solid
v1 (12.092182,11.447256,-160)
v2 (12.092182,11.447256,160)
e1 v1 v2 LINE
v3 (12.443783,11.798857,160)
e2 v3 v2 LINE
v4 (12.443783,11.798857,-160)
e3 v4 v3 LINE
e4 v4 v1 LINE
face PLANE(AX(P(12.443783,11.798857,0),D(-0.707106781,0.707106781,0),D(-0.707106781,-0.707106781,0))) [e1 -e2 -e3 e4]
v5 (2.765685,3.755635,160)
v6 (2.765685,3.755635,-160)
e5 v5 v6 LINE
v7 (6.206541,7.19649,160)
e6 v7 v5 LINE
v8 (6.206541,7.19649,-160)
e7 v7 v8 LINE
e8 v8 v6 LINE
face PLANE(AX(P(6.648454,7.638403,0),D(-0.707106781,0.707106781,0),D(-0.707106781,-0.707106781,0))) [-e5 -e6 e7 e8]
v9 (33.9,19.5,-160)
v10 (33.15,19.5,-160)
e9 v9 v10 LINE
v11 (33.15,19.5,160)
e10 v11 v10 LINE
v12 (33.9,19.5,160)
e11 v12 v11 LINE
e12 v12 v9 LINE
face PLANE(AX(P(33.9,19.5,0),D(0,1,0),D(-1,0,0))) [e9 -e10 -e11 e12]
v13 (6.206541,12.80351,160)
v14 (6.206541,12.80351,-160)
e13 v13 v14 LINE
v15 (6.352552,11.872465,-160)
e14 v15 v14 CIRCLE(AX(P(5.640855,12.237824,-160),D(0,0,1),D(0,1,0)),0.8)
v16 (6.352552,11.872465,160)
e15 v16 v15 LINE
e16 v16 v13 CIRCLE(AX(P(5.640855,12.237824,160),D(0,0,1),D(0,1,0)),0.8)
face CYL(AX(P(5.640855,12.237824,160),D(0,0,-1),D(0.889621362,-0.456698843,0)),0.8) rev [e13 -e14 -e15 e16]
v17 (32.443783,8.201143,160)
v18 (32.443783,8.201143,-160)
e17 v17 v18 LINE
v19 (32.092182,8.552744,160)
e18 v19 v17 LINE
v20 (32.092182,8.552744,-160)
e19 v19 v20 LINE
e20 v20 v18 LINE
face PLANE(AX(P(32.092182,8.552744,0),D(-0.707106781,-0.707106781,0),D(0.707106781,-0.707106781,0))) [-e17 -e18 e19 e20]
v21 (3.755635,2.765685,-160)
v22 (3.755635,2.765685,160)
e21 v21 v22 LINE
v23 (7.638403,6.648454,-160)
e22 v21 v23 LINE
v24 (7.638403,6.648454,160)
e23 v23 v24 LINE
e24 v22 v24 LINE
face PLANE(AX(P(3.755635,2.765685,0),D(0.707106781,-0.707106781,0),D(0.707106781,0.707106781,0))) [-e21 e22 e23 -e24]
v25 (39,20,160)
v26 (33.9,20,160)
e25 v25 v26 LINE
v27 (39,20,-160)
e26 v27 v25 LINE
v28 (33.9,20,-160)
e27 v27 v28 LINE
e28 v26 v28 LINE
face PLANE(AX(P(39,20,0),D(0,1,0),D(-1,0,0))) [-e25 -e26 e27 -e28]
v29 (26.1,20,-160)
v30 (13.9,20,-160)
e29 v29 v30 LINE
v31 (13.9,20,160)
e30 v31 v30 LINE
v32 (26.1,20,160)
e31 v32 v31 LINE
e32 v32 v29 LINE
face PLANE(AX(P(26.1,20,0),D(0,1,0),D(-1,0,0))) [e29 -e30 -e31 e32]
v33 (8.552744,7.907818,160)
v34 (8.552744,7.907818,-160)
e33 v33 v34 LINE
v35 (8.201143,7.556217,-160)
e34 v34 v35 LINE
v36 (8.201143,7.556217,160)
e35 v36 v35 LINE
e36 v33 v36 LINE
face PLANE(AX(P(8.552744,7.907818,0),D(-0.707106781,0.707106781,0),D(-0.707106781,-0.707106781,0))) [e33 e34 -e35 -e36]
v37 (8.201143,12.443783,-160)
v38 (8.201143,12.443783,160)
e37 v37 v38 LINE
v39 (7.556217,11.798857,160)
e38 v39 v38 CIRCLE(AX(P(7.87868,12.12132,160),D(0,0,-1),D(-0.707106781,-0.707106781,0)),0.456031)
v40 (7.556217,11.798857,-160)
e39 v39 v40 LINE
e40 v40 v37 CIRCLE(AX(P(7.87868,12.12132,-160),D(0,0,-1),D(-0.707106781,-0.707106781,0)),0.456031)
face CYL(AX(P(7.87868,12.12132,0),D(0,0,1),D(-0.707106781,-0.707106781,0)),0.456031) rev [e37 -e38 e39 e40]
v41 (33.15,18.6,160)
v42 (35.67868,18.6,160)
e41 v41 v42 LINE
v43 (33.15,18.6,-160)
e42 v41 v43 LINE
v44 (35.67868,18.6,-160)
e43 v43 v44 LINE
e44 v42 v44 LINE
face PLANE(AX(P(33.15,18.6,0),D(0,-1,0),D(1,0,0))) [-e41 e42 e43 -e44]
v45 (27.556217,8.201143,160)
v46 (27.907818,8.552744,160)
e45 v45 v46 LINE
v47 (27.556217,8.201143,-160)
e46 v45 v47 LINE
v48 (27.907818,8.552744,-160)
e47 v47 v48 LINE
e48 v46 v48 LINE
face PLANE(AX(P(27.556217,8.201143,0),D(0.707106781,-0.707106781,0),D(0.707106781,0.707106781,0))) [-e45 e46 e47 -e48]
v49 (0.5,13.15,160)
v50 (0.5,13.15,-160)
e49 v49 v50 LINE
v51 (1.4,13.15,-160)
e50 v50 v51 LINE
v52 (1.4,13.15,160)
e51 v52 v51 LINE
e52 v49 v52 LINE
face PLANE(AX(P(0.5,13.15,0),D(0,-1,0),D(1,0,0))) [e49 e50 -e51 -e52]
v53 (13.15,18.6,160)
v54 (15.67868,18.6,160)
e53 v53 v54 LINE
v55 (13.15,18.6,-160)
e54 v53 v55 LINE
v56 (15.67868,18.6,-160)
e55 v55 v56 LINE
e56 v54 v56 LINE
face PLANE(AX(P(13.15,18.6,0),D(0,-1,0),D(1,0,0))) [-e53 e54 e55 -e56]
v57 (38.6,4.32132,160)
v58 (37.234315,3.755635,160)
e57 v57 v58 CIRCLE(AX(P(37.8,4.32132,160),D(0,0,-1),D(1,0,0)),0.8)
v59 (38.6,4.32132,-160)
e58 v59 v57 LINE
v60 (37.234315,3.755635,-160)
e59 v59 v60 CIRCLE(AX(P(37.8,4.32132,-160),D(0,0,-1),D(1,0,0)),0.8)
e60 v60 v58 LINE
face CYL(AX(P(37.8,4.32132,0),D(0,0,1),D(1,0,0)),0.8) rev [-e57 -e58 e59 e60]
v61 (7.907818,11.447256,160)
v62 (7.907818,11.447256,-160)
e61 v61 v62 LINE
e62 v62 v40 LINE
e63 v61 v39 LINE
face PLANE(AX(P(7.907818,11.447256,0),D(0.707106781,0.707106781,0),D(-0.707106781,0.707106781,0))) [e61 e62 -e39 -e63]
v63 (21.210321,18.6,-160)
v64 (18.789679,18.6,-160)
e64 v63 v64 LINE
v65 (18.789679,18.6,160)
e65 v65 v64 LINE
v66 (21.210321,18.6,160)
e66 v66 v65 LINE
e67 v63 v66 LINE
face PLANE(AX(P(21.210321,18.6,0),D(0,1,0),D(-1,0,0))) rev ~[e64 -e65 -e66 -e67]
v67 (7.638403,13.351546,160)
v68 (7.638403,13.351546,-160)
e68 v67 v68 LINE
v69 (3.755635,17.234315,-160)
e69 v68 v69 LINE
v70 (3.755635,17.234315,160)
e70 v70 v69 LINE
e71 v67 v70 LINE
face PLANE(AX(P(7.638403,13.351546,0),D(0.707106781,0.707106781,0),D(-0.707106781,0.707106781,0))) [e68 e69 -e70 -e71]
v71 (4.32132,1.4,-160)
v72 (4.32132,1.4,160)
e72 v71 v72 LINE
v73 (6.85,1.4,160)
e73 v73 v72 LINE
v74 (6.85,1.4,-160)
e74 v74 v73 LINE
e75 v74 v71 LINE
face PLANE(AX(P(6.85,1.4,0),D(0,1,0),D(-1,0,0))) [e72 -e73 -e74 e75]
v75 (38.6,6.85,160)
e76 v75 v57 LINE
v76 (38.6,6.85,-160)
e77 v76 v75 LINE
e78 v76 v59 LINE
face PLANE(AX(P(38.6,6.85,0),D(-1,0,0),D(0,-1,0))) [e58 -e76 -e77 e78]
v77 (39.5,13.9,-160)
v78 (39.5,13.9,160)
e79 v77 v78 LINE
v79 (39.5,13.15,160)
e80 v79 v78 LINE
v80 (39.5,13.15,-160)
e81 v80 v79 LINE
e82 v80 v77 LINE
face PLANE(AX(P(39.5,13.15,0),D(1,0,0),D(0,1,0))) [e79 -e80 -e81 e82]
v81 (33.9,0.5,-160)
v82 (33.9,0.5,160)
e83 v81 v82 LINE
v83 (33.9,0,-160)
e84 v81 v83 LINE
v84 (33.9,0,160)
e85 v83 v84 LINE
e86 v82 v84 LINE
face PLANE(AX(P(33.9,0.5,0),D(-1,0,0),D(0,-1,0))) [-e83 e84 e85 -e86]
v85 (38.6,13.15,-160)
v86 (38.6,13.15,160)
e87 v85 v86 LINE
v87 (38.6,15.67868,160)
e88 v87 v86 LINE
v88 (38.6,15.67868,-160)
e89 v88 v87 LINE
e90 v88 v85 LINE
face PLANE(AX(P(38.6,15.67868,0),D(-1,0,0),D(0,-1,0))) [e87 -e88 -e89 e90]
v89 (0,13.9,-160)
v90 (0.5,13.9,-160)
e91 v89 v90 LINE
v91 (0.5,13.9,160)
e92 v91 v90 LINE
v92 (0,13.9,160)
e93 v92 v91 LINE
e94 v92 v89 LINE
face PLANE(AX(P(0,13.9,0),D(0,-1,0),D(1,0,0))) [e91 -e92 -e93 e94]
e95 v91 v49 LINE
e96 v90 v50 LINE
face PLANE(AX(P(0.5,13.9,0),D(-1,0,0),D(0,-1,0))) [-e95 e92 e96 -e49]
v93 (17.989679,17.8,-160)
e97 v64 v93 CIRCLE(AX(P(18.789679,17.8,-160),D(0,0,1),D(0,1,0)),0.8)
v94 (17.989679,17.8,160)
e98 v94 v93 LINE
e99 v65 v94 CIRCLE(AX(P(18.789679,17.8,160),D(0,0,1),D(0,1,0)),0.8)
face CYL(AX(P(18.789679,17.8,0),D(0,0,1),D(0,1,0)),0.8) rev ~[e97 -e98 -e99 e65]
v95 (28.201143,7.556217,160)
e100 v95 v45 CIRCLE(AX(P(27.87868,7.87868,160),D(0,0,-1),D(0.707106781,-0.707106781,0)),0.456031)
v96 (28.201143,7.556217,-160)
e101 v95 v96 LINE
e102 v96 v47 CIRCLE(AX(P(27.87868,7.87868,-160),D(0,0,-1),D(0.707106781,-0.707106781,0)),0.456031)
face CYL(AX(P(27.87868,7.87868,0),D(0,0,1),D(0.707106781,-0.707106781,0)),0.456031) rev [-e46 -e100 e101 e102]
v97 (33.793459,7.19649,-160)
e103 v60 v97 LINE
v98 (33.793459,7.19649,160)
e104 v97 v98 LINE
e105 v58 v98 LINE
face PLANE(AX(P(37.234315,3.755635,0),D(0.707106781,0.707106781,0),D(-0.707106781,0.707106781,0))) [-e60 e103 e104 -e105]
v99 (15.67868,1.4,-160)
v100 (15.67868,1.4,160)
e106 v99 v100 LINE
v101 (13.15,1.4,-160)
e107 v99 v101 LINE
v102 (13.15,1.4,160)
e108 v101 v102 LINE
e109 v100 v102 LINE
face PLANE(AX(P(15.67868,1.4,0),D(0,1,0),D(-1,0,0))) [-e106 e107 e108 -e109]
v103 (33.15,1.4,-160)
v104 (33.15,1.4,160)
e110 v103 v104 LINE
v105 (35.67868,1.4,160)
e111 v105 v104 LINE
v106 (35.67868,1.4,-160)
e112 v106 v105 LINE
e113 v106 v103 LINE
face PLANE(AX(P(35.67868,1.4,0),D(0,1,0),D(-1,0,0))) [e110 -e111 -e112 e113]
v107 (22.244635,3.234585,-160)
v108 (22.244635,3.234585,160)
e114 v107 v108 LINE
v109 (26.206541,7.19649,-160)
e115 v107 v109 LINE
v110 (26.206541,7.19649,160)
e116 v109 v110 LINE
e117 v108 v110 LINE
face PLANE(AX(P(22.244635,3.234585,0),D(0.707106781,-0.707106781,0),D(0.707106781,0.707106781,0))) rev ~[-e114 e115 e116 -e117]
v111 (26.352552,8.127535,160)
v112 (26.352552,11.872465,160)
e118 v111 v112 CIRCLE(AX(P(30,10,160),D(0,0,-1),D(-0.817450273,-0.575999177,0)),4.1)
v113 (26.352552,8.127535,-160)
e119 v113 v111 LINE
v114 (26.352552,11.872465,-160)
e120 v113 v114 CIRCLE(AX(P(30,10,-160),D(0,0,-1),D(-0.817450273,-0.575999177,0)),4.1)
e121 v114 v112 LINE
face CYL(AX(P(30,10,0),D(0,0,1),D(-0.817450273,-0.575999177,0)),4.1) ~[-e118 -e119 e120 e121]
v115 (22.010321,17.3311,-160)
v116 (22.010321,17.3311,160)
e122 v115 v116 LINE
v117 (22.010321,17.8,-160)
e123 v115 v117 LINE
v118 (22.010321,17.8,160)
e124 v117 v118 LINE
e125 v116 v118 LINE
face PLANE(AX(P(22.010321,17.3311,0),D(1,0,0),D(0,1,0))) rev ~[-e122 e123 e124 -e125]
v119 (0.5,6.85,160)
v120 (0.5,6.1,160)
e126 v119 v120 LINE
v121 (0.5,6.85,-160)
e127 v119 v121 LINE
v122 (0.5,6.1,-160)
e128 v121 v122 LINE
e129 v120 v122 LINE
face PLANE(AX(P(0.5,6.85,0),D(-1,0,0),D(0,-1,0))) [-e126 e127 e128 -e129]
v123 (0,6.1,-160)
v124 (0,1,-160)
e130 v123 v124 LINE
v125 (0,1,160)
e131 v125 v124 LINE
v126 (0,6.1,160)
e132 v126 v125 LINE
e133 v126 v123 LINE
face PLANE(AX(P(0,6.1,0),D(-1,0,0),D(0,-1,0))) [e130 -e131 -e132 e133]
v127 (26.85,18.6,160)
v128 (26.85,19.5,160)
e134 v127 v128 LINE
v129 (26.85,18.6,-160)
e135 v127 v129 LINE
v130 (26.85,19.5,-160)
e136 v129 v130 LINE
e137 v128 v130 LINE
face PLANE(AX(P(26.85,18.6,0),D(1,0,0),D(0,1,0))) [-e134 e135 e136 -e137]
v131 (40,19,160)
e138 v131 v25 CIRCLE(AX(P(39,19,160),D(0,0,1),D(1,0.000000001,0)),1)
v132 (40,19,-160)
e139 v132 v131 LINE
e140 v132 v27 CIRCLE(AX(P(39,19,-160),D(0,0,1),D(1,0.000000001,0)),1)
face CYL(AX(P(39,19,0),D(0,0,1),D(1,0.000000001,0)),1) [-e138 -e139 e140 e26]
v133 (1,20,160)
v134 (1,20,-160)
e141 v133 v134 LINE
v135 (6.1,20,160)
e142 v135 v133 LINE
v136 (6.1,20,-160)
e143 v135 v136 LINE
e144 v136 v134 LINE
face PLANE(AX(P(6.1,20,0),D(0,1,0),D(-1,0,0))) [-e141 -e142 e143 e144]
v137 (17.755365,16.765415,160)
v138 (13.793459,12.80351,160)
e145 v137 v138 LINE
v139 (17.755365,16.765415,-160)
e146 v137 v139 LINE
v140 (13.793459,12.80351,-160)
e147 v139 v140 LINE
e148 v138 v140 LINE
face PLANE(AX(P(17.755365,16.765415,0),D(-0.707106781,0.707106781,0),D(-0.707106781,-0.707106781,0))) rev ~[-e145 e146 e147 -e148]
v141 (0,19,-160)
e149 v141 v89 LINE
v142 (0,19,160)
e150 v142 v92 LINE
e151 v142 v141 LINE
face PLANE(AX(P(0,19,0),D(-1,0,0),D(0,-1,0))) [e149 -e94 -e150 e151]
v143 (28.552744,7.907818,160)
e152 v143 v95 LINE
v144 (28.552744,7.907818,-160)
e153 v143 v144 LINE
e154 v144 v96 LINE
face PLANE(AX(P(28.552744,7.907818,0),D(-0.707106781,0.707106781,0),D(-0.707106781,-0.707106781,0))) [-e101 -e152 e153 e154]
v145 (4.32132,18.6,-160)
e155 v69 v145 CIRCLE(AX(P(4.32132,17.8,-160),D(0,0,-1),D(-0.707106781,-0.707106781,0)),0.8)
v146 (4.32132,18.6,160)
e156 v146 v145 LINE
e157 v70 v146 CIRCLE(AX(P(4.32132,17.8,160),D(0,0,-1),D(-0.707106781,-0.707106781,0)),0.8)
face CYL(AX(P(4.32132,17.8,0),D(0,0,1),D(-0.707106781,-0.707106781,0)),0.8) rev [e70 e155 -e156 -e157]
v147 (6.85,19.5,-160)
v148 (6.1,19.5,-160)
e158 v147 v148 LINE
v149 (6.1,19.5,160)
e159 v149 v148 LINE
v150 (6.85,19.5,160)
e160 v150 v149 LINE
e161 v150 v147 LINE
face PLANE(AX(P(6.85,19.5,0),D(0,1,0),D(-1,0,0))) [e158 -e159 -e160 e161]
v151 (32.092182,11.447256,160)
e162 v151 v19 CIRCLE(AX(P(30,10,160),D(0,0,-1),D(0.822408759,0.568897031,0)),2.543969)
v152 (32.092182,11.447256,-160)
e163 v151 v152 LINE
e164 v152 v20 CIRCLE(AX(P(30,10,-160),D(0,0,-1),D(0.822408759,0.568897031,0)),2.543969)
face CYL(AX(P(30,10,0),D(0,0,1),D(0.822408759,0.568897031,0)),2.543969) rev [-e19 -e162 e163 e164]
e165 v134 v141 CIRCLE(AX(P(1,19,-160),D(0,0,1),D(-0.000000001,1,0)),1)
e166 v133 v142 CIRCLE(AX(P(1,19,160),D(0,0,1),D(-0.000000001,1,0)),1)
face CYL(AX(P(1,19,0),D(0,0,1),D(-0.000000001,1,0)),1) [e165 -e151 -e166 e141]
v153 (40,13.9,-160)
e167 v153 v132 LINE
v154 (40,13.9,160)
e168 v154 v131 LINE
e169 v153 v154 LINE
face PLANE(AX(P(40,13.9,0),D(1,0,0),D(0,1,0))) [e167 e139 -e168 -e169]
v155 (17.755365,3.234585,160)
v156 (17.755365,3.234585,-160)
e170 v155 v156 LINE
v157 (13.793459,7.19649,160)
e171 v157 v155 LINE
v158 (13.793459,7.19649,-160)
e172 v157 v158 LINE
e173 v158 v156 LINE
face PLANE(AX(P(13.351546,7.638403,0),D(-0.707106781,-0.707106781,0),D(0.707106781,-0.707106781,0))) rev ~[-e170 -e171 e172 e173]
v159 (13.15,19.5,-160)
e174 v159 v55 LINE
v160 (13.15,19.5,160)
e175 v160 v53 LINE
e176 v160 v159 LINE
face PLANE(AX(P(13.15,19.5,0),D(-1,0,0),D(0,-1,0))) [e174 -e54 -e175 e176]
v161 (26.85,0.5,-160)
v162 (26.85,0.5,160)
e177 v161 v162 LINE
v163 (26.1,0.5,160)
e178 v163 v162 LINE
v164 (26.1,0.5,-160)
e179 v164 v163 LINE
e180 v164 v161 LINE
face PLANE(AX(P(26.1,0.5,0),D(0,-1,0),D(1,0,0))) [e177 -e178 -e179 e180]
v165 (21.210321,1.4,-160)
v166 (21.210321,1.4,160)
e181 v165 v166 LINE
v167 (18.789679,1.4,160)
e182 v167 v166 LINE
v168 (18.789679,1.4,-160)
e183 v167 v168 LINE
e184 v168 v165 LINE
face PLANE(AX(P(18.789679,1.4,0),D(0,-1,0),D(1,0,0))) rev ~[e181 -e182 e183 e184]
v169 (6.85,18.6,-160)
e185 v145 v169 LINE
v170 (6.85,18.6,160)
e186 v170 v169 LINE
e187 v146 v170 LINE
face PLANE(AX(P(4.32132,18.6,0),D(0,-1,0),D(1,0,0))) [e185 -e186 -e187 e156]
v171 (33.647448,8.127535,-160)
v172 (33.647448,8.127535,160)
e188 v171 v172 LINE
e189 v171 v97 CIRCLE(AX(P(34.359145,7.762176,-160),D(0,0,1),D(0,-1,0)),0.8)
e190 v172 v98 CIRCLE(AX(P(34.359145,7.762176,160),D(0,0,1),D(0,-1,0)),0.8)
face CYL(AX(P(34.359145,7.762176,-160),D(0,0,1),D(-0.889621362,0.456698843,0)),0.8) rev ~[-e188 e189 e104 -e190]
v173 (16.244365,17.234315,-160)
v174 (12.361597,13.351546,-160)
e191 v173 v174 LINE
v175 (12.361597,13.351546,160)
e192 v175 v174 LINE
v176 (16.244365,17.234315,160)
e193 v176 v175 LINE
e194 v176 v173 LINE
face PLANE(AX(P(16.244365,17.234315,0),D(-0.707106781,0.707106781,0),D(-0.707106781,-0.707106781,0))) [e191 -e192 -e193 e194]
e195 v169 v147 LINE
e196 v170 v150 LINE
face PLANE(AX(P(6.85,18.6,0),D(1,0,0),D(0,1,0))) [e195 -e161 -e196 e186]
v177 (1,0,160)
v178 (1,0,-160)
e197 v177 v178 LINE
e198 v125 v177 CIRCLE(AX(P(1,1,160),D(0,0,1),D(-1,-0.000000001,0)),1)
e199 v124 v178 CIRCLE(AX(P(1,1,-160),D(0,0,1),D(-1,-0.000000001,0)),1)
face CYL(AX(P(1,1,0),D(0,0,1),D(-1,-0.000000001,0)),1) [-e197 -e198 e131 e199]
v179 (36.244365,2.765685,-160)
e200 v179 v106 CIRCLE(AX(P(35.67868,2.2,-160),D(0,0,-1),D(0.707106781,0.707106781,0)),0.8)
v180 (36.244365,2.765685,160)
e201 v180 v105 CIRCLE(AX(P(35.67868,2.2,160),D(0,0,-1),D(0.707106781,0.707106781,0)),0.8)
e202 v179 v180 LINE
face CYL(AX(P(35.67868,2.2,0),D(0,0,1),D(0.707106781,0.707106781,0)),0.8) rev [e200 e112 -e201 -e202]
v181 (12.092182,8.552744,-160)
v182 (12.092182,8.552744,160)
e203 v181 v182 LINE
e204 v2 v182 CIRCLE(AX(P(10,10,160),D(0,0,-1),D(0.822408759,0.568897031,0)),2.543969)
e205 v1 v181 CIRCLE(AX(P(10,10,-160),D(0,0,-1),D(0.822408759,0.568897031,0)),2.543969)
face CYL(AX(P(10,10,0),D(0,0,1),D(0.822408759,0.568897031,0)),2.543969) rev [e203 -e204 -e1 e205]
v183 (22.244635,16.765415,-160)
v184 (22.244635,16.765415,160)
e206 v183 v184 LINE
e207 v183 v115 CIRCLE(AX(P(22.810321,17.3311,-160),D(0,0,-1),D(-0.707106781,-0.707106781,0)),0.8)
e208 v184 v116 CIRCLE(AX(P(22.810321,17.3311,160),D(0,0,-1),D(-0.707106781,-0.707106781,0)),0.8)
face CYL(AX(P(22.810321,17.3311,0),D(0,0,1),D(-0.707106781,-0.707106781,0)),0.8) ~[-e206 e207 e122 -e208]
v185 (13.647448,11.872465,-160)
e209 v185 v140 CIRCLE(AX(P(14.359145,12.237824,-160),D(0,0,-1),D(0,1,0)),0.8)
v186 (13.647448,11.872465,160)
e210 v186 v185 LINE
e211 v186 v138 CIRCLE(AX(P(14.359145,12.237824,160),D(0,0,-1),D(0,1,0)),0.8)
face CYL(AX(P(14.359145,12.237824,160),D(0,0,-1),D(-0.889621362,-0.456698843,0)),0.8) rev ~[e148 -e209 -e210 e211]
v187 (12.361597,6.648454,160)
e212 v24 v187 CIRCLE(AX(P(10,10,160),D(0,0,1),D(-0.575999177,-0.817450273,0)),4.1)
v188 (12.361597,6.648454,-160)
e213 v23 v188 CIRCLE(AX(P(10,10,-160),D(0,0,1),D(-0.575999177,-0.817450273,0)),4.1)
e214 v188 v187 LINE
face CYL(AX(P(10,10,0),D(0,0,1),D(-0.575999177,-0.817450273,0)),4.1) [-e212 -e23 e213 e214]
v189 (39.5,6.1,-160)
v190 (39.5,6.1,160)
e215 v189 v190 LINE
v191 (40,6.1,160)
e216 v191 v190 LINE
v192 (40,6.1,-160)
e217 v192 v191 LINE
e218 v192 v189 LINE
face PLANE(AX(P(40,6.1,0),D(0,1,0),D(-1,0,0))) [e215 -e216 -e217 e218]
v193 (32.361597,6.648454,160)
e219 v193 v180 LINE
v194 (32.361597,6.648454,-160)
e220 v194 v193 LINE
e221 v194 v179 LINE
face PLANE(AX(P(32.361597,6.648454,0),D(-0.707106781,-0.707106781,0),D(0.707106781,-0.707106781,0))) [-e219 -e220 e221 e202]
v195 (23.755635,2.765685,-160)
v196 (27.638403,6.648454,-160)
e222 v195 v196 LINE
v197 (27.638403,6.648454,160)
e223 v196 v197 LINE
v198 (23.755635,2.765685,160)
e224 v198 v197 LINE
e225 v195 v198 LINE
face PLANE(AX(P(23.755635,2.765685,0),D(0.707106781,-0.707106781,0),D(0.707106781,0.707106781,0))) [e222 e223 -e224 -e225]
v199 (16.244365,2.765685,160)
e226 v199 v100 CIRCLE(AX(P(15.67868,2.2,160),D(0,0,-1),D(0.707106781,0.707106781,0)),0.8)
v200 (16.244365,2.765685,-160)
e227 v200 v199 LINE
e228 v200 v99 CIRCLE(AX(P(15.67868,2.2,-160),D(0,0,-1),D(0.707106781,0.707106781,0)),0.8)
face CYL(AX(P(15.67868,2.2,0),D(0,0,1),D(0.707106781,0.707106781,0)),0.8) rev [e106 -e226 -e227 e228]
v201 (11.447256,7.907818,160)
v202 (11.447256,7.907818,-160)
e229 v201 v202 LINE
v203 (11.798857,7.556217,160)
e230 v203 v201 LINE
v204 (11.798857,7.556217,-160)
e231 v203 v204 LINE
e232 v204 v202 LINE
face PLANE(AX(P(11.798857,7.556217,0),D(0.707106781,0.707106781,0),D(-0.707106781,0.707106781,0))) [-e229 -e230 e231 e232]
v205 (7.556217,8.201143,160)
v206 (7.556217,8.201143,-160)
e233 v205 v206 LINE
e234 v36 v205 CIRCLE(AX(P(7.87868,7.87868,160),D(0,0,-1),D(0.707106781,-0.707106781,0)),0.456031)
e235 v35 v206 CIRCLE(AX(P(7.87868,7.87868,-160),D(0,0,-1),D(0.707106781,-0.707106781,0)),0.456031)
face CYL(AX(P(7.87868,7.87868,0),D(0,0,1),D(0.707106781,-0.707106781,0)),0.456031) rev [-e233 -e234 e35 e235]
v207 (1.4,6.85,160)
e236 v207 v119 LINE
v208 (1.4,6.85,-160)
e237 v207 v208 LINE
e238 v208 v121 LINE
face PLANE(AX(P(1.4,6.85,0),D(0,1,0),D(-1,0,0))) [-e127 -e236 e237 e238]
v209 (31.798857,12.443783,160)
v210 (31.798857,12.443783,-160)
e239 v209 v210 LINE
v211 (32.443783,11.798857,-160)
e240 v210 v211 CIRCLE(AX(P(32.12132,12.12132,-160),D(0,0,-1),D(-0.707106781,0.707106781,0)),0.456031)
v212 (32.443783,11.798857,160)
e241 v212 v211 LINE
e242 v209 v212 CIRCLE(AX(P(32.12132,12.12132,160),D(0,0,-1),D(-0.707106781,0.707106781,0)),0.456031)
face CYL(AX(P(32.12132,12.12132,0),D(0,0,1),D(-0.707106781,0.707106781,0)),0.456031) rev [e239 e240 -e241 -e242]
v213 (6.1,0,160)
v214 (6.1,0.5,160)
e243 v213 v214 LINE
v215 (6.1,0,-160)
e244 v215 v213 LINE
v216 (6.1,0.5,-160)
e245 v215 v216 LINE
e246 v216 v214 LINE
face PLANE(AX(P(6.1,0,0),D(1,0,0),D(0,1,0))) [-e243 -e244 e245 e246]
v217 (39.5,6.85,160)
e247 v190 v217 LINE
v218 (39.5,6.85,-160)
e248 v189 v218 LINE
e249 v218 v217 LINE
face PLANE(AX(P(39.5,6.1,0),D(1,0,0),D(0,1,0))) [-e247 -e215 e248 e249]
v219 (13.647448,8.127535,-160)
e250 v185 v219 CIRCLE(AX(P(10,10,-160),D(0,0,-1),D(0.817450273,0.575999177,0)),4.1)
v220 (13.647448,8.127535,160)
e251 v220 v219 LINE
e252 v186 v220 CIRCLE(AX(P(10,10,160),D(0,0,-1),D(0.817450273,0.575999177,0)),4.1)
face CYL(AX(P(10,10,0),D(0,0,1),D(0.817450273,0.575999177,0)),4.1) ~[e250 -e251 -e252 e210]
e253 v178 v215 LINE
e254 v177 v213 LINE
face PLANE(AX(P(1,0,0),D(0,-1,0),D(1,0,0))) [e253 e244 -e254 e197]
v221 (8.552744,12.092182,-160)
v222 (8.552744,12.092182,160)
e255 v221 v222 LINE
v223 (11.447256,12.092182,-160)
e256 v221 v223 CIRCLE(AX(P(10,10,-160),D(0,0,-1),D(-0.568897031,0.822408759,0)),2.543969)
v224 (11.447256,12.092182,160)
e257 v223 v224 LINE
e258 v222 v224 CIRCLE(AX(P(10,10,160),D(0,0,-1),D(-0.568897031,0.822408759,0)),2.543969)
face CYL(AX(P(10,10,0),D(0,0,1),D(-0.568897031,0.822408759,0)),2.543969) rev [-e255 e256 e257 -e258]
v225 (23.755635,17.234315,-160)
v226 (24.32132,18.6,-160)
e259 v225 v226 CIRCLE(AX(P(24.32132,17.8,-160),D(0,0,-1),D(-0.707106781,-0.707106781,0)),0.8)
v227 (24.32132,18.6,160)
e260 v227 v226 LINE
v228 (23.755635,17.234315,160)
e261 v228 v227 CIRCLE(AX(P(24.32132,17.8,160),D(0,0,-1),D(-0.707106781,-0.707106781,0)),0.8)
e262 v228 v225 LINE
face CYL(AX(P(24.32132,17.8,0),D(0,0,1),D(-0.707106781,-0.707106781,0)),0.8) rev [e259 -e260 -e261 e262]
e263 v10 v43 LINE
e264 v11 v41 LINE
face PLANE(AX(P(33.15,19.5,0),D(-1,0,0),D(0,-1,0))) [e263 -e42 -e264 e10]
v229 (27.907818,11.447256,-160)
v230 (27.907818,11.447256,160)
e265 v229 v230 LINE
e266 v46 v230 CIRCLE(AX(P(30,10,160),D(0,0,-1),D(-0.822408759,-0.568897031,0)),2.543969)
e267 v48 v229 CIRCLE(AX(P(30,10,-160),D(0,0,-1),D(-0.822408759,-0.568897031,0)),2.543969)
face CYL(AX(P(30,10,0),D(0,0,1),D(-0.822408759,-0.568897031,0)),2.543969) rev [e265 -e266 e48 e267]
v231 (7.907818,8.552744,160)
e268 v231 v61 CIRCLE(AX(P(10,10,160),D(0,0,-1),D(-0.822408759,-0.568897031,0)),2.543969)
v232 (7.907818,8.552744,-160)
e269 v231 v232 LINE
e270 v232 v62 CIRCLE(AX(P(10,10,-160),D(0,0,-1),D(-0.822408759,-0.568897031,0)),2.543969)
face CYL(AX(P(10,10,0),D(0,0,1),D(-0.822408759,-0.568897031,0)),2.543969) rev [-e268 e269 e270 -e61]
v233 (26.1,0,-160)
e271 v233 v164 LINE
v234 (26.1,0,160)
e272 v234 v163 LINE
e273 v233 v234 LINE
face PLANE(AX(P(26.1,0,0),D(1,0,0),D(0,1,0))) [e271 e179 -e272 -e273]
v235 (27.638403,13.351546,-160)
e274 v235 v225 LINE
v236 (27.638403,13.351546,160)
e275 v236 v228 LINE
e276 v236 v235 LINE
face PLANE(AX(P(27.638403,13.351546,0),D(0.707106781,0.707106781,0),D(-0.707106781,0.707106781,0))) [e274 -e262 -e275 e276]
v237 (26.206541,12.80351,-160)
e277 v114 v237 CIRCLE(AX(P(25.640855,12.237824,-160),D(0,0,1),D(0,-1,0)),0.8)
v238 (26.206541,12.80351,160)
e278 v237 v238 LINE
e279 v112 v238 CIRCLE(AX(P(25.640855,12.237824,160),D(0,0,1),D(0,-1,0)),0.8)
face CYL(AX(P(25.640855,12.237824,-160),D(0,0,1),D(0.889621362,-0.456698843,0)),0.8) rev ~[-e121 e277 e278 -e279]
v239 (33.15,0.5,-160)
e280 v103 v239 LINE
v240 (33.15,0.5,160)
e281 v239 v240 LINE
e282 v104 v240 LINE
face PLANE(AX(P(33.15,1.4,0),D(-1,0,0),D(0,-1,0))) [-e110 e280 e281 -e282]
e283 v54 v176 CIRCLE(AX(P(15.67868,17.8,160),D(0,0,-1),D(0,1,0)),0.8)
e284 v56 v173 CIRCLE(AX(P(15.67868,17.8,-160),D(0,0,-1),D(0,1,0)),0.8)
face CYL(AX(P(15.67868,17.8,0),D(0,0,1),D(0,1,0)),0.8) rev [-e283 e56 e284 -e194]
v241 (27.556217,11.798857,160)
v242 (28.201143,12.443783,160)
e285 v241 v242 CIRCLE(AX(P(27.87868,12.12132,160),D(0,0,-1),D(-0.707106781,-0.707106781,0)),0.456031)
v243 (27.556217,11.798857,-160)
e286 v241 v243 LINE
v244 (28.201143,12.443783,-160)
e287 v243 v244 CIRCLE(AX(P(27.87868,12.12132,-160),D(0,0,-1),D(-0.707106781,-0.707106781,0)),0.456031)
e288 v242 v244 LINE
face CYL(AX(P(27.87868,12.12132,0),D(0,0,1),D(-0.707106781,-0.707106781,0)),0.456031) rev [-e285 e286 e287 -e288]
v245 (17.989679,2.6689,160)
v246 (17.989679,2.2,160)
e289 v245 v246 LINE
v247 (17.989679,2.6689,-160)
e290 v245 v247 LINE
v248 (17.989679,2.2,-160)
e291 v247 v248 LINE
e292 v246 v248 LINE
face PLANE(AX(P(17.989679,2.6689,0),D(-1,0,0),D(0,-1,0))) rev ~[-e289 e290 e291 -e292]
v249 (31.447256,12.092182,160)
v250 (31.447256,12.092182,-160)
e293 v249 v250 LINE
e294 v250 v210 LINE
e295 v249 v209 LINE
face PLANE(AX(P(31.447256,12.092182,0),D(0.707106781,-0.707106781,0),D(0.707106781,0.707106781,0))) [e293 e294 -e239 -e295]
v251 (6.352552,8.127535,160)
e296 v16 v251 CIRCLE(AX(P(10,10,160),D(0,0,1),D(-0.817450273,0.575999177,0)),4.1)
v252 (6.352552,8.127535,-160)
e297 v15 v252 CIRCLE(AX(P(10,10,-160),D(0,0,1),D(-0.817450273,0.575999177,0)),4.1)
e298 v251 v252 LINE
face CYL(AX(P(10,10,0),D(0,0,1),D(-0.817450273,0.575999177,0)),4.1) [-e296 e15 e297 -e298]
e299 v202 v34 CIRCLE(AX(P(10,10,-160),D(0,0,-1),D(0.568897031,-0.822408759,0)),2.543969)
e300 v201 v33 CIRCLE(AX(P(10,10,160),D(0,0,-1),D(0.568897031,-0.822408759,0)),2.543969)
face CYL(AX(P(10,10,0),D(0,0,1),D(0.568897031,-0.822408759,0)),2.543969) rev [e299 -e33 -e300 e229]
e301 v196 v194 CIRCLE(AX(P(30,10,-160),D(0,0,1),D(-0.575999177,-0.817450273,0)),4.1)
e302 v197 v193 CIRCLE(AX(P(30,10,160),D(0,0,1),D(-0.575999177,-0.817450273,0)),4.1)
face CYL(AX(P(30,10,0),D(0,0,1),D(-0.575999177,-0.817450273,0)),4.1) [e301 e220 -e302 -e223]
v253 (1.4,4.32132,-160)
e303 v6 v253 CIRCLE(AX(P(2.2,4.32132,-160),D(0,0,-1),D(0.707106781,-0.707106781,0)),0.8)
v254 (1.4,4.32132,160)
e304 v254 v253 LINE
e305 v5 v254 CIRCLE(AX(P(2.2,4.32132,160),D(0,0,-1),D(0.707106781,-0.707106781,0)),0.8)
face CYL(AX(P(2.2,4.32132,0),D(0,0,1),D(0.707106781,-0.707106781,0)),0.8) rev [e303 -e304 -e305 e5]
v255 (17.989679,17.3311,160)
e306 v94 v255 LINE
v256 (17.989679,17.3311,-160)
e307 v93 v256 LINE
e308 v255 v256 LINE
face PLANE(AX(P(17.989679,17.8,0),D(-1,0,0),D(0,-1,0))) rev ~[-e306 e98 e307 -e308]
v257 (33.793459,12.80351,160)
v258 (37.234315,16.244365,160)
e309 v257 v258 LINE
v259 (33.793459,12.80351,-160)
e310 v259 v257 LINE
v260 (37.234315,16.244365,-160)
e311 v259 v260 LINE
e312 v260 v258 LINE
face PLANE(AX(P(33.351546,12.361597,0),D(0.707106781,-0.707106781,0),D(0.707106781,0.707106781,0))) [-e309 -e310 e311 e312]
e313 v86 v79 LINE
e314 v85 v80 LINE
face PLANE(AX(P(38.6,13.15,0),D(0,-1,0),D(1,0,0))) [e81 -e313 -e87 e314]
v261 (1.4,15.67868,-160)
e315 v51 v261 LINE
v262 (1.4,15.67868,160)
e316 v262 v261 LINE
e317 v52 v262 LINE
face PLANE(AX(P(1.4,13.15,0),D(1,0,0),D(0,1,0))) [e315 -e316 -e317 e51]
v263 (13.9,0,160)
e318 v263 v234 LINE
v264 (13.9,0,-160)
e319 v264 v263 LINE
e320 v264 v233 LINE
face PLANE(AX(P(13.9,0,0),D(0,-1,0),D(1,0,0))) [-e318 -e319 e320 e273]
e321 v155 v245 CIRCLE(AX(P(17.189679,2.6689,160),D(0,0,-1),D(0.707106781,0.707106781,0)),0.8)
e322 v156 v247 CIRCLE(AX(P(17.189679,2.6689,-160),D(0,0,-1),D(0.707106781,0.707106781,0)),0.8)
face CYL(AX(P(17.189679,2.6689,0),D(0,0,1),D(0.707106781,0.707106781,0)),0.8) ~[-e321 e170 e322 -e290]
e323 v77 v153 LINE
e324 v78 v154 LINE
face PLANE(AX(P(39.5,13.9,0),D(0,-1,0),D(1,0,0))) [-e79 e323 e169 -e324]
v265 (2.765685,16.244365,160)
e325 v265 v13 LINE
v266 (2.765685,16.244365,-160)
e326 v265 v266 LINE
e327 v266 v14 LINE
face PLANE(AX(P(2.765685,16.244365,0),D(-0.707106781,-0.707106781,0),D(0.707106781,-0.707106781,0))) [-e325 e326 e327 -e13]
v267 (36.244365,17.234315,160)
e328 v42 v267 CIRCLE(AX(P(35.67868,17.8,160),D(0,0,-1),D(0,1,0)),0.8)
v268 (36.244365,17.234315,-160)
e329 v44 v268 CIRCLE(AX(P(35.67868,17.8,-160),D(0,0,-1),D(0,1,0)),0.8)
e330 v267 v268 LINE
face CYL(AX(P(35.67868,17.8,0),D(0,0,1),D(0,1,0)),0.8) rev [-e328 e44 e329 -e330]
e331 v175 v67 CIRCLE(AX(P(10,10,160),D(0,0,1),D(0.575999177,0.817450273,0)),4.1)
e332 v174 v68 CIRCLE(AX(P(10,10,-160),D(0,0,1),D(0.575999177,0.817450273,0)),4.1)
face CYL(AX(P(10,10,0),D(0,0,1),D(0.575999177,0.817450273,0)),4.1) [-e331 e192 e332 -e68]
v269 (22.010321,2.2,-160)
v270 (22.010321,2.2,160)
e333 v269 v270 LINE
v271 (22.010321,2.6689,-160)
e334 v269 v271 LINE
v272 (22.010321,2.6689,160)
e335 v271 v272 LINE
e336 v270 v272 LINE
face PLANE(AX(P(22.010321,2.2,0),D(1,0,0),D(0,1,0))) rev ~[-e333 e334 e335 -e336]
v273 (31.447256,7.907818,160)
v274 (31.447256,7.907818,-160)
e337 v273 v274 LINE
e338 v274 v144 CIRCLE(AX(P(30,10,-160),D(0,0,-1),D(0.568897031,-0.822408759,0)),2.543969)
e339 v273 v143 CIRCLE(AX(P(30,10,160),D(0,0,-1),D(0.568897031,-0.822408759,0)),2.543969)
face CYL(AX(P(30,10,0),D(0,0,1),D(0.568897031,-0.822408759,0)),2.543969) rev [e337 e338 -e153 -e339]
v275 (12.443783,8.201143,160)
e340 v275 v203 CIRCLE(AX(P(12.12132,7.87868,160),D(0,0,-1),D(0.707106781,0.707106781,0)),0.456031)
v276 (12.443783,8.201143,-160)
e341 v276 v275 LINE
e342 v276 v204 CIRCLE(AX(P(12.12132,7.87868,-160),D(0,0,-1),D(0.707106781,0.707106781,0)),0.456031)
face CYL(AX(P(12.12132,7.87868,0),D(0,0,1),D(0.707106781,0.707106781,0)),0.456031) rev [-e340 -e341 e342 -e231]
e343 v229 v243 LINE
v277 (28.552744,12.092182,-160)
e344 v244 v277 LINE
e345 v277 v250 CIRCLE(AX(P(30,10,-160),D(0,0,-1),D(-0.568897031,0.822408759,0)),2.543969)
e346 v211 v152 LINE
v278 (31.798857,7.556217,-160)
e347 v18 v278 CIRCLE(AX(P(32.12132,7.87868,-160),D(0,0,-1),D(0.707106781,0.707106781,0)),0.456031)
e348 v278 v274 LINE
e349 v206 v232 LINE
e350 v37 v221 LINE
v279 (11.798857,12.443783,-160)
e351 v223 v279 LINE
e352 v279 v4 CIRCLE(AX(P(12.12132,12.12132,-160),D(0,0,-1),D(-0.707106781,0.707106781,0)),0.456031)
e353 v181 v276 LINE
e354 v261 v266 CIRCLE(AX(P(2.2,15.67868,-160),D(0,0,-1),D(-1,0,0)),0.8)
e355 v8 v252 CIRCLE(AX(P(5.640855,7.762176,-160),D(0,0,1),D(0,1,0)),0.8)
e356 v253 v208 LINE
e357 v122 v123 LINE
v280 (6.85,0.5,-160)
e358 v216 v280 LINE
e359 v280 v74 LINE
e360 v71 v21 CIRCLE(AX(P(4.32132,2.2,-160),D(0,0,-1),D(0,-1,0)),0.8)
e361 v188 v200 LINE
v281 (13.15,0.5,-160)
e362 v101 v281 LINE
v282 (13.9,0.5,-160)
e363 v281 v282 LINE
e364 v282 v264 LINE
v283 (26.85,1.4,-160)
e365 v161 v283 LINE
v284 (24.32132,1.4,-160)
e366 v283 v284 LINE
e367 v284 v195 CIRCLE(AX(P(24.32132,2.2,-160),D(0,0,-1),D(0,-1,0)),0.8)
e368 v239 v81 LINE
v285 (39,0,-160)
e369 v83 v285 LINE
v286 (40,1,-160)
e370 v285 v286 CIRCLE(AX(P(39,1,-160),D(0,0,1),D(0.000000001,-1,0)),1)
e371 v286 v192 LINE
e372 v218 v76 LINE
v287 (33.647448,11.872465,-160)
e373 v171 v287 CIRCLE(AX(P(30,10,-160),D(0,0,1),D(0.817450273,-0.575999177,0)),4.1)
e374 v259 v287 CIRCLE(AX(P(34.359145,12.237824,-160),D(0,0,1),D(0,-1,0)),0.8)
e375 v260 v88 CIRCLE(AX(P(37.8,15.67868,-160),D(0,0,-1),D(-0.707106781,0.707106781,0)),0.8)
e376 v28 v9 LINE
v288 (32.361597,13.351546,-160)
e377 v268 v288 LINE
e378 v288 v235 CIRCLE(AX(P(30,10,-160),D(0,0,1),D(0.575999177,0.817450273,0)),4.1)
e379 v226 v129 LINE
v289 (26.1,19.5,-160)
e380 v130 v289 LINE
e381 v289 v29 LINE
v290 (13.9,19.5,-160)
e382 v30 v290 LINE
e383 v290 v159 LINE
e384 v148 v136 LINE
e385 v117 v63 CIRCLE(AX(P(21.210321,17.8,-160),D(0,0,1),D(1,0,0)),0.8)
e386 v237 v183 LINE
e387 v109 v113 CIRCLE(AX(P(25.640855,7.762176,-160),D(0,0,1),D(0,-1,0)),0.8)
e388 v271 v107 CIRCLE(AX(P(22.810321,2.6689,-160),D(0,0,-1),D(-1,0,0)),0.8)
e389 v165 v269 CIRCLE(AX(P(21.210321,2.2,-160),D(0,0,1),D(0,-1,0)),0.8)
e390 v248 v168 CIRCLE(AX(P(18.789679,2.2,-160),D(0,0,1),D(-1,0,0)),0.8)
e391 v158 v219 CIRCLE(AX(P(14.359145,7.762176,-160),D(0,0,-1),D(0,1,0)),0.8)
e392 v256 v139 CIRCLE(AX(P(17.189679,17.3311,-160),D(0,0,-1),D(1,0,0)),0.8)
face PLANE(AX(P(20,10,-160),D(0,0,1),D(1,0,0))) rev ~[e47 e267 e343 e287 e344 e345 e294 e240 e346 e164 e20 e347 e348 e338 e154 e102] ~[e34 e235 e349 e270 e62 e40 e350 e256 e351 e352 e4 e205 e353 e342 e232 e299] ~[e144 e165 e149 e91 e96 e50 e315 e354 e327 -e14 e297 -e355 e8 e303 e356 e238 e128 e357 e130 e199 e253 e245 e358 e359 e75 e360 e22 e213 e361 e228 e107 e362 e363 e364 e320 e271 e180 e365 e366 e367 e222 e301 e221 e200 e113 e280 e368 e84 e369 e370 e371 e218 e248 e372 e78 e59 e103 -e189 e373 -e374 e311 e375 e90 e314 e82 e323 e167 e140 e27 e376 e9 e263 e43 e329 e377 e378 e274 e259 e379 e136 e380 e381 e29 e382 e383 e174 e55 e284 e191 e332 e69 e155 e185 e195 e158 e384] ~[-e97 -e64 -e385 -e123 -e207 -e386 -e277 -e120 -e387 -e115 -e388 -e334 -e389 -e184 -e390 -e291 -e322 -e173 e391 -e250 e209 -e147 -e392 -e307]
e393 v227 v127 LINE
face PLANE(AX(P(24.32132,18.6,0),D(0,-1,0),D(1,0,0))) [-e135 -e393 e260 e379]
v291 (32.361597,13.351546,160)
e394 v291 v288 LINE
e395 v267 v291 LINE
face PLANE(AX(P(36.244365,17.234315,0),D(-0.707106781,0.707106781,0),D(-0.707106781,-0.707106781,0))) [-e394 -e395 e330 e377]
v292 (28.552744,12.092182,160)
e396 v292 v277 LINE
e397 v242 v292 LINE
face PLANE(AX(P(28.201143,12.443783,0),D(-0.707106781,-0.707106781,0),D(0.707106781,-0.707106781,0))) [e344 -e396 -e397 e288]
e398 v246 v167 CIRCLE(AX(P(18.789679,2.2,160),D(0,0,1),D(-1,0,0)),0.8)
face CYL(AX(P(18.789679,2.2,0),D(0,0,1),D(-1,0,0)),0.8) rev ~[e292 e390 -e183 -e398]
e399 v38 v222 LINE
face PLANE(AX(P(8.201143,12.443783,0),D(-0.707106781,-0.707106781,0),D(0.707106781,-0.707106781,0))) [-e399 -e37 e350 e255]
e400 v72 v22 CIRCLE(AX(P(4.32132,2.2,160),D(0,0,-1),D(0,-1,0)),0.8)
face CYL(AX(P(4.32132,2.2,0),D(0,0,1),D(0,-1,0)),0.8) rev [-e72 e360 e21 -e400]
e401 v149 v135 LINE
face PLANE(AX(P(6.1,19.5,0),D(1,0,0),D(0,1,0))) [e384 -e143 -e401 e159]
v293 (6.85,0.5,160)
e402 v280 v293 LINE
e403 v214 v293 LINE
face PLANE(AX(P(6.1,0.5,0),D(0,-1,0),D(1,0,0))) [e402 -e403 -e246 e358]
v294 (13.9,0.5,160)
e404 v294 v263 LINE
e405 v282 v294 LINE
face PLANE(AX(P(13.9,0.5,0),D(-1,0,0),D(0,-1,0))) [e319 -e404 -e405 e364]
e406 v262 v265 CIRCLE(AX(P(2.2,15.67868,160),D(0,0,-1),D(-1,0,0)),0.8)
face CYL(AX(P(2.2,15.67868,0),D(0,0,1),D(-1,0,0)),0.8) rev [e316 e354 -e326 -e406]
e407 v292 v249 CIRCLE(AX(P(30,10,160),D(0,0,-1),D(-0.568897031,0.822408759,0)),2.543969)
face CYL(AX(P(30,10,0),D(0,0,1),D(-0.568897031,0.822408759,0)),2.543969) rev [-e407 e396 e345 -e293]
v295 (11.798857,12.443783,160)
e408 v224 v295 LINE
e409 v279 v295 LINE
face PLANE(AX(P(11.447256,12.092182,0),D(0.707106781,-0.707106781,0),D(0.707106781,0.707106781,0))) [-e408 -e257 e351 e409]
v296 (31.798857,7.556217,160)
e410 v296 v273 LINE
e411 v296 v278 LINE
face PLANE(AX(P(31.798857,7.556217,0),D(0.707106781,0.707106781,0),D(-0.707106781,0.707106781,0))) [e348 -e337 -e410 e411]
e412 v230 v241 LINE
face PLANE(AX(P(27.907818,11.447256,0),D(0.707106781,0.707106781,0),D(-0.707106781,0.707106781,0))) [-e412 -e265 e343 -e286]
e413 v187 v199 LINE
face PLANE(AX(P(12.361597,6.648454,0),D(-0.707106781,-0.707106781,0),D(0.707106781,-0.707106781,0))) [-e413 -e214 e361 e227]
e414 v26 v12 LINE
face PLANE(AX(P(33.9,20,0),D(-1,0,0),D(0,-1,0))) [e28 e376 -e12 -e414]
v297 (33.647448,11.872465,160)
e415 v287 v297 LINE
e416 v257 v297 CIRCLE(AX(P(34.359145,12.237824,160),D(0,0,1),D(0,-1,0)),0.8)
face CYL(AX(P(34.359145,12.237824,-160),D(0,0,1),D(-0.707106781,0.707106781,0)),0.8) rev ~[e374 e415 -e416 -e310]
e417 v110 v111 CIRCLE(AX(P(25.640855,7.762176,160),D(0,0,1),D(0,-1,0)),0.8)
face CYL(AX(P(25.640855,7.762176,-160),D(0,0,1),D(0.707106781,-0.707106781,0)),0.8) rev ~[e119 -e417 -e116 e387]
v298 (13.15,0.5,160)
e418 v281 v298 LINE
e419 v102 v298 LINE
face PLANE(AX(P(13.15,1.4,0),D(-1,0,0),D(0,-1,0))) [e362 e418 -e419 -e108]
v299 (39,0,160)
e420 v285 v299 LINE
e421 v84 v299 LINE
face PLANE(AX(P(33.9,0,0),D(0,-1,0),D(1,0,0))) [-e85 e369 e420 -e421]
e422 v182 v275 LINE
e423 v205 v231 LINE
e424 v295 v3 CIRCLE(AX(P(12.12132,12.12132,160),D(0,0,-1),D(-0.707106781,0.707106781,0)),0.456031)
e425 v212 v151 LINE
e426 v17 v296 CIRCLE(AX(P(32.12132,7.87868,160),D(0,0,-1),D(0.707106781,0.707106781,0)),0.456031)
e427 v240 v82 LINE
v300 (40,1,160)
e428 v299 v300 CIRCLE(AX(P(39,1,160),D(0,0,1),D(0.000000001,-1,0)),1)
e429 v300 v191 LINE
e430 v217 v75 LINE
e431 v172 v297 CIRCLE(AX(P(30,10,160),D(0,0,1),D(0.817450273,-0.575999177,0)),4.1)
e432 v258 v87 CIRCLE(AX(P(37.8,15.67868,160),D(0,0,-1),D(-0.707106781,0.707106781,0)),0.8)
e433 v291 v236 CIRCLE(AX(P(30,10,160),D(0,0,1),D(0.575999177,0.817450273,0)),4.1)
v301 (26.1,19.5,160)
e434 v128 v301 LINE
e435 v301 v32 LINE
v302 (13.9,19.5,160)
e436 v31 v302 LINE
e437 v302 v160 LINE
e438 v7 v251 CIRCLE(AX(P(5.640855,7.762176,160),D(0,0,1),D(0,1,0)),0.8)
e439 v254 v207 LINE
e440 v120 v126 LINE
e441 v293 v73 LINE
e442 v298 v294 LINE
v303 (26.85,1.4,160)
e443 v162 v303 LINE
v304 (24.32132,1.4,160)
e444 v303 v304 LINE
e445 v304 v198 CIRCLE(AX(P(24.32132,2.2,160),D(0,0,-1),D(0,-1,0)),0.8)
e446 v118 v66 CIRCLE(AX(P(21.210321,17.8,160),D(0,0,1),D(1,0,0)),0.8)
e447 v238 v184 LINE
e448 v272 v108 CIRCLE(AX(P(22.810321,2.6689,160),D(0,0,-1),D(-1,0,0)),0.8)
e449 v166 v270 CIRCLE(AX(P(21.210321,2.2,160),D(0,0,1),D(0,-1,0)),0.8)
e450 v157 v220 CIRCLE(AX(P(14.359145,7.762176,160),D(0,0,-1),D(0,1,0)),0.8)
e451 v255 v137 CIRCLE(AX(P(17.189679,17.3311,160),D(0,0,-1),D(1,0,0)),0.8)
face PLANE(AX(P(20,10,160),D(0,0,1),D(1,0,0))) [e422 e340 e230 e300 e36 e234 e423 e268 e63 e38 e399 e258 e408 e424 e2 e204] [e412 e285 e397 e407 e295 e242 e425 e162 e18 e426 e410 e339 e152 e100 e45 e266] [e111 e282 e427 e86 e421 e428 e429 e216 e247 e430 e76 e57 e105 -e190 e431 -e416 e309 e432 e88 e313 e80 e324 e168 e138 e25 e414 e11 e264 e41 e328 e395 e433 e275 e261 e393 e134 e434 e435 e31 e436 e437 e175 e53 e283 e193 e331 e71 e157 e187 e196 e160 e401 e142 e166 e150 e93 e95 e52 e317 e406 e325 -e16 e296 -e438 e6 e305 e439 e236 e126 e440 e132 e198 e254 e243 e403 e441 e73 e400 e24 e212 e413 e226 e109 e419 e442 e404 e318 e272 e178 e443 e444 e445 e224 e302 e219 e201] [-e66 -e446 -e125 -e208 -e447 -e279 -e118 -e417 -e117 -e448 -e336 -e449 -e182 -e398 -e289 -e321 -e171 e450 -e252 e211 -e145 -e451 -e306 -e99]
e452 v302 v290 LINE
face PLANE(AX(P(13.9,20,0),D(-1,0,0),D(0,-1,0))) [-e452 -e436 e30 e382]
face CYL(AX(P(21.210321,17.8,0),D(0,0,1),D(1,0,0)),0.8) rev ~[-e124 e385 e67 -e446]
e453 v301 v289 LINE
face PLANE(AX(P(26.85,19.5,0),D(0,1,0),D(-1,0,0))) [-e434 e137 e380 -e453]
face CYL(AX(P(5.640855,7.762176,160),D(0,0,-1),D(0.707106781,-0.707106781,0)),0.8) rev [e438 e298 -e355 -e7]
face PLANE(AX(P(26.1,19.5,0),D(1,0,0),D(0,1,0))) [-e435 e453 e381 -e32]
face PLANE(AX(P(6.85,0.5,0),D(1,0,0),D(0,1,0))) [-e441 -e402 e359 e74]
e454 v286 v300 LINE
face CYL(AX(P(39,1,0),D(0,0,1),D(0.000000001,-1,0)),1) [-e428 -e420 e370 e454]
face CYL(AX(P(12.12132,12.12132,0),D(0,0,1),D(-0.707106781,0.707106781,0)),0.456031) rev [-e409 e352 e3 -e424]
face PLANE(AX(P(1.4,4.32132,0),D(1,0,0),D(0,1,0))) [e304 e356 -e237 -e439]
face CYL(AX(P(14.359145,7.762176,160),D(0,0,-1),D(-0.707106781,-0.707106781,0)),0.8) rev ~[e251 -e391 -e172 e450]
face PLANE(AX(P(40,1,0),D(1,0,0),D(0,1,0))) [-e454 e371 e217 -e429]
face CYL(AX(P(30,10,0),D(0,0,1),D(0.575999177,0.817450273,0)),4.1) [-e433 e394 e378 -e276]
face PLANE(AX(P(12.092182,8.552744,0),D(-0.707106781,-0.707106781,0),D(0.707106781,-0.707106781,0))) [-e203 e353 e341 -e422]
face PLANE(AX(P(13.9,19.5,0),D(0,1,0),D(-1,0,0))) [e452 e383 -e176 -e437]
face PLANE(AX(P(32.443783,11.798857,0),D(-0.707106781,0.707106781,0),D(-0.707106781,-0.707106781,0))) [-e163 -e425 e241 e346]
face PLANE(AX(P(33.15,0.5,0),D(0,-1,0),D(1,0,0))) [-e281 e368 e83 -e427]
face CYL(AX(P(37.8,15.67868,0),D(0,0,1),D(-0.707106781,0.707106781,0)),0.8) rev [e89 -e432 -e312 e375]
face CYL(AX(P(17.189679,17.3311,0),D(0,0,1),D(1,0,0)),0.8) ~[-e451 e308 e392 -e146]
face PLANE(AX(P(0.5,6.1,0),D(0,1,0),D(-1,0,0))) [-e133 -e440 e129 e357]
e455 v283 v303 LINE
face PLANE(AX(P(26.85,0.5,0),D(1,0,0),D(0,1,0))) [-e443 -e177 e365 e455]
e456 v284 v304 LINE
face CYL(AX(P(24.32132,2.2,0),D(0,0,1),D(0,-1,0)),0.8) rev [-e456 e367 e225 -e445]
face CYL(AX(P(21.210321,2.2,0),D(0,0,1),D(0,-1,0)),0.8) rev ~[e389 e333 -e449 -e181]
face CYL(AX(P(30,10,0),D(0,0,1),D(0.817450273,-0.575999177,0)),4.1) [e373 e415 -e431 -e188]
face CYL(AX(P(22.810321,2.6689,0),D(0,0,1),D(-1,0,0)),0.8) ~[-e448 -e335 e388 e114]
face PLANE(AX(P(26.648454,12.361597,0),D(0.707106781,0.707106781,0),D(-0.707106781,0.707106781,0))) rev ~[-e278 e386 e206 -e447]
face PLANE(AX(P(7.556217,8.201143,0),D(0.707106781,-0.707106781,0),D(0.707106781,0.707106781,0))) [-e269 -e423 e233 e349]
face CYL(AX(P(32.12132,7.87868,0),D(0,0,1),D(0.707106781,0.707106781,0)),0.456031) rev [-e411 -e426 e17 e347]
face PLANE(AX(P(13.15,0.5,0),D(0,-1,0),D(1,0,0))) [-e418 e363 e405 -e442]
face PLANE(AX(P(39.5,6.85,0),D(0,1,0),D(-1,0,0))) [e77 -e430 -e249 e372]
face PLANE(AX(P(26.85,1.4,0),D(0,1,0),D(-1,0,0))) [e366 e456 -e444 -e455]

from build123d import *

# Parameters (mm, degrees)
Y_KSEKLIK_EKSTR_ZYON2_DEPTH = 160
RADYUS1_R                   = 0.8


with BuildPart() as part:
    # Çizim3 → Yükseklik-Ekstrüzyon2 (new body, symmetric)
    with BuildSketch(Plane.XY):
        with BuildLine():
            Line((1, 0), (6.1, 0))
            Line((6.1, 0), (6.1, 0.5))
            Line((6.1, 0.5), (6.85, 0.5))
            Line((6.85, 0.5), (6.85, 1.4))
            Line((6.85, 1.4), (4.321320344, 1.4))
            ThreePointArc((4.321320344, 1.4), (3.582216718, 1.893853254), (3.755634919, 2.765685425))
            Line((3.755634919, 2.765685425), (7.638403375, 6.648453882))
            ThreePointArc((7.638403375, 6.648453882), (10, 5.9), (12.361596625, 6.648453882))
            Line((12.361596625, 6.648453882), (16.244365081, 2.765685425))
            ThreePointArc((16.244365081, 2.765685425), (16.417783282, 1.893853254), (15.678679656, 1.4))
            Line((15.678679656, 1.4), (13.15, 1.4))
            Line((13.15, 1.4), (13.15, 0.5))
            Line((13.15, 0.5), (13.9, 0.5))
            Line((13.9, 0.5), (13.9, 0))
            Line((13.9, 0), (26.1, 0))
            Line((26.1, 0), (26.1, 0.5))
            Line((26.1, 0.5), (26.85, 0.5))
            Line((26.85, 0.5), (26.85, 1.4))
            Line((26.85, 1.4), (24.321320344, 1.4))
            ThreePointArc((24.321320344, 1.4), (23.582216718, 1.893853254), (23.755634919, 2.765685425))
            Line((23.755634919, 2.765685425), (27.638403375, 6.648453882))
            ThreePointArc((27.638403375, 6.648453882), (30, 5.9), (32.361596625, 6.648453882))
            Line((32.361596625, 6.648453882), (36.244365081, 2.765685425))
            ThreePointArc((36.244365081, 2.765685425), (36.417783282, 1.893853254), (35.678679656, 1.4))
            Line((35.678679656, 1.4), (33.15, 1.4))
            Line((33.15, 1.4), (33.15, 0.5))
            Line((33.15, 0.5), (33.9, 0.5))
            Line((33.9, 0.5), (33.9, 0))
            Line((33.9, 0), (39, 0))
            ThreePointArc((39, 0), (39.707106781, 0.292893219), (40, 1))
            Line((40, 1), (40, 6.1))
            Line((40, 6.1), (39.5, 6.1))
            Line((39.5, 6.1), (39.5, 6.85))
            Line((39.5, 6.85), (38.6, 6.85))
            Line((38.6, 6.85), (38.6, 4.321320344))
            ThreePointArc((38.6, 4.321320344), (38.106146746, 3.582216718), (37.234314575, 3.755634919))
            Line((37.234314575, 3.755634919), (33.351546118, 7.638403375))
            ThreePointArc((33.351546118, 7.638403375), (34.1, 10), (33.351546118, 12.361596625))
            Line((33.351546118, 12.361596625), (37.234314575, 16.244365081))
            ThreePointArc((37.234314575, 16.244365081), (38.106146746, 16.417783282), (38.6, 15.678679656))
            Line((38.6, 15.678679656), (38.6, 13.15))
            Line((38.6, 13.15), (39.5, 13.15))
            Line((39.5, 13.15), (39.5, 13.9))
            Line((39.5, 13.9), (40, 13.9))
            Line((40, 13.9), (40, 19))
            ThreePointArc((40, 19), (39.707106781, 19.707106781), (39, 20))
            Line((39, 20), (33.9, 20))
            Line((33.9, 20), (33.9, 19.5))
            Line((33.9, 19.5), (33.15, 19.5))
            Line((33.15, 19.5), (33.15, 18.6))
            Line((33.15, 18.6), (35.678679656, 18.6))
            ThreePointArc((35.678679656, 18.6), (36.417783282, 18.106146746), (36.244365081, 17.234314575))
            Line((36.244365081, 17.234314575), (32.361596625, 13.351546118))
            ThreePointArc((32.361596625, 13.351546118), (30, 14.1), (27.638403375, 13.351546118))
            Line((27.638403375, 13.351546118), (23.755634919, 17.234314575))
            ThreePointArc((23.755634919, 17.234314575), (23.582216718, 18.106146746), (24.321320344, 18.6))
            Line((24.321320344, 18.6), (26.85, 18.6))
            Line((26.85, 18.6), (26.85, 19.5))
            Line((26.85, 19.5), (26.1, 19.5))
            Line((26.1, 19.5), (26.1, 20))
            Line((26.1, 20), (13.9, 20))
            Line((13.9, 20), (13.9, 19.5))
            Line((13.9, 19.5), (13.15, 19.5))
            Line((13.15, 19.5), (13.15, 18.6))
            Line((13.15, 18.6), (15.678679656, 18.6))
            ThreePointArc((15.678679656, 18.6), (16.417783282, 18.106146746), (16.244365081, 17.234314575))
            Line((16.244365081, 17.234314575), (12.361596625, 13.351546118))
            ThreePointArc((12.361596625, 13.351546118), (10, 14.1), (7.638403375, 13.351546118))
            Line((7.638403375, 13.351546118), (3.755634919, 17.234314575))
            ThreePointArc((3.755634919, 17.234314575), (3.582216718, 18.106146746), (4.321320344, 18.6))
            Line((4.321320344, 18.6), (6.85, 18.6))
            Line((6.85, 18.6), (6.85, 19.5))
            Line((6.85, 19.5), (6.1, 19.5))
            Line((6.1, 19.5), (6.1, 20))
            Line((6.1, 20), (1, 20))
            ThreePointArc((1, 20), (0.292893219, 19.707106781), (0, 19))
            Line((0, 19), (0, 13.9))
            Line((0, 13.9), (0.5, 13.9))
            Line((0.5, 13.9), (0.5, 13.15))
            Line((0.5, 13.15), (1.4, 13.15))
            Line((1.4, 13.15), (1.4, 15.678679656))
            ThreePointArc((1.4, 15.678679656), (1.893853254, 16.417783282), (2.765685425, 16.244365081))
            Line((2.765685425, 16.244365081), (6.648453882, 12.361596625))
            ThreePointArc((6.648453882, 12.361596625), (5.9, 10), (6.648453882, 7.638403375))
            Line((6.648453882, 7.638403375), (2.765685425, 3.755634919))
            ThreePointArc((2.765685425, 3.755634919), (1.893853254, 3.582216718), (1.4, 4.321320344))
            Line((1.4, 4.321320344), (1.4, 6.85))
            Line((1.4, 6.85), (0.5, 6.85))
            Line((0.5, 6.85), (0.5, 6.1))
            Line((0.5, 6.1), (0, 6.1))
            Line((0, 6.1), (0, 1))
            ThreePointArc((0, 1), (0.292893219, 0.292893219), (1, 0))
        make_face()
        with BuildLine():
            Line((21.210320913, 18.6), (18.789679087, 18.6))
            ThreePointArc((18.789679087, 18.6), (18.223993662, 18.365685425), (17.989679087, 17.8))
            Line((17.989679087, 17.8), (17.989679087, 17.331100443))
            ThreePointArc((17.989679087, 17.331100443), (17.928782713, 17.024953697), (17.755364512, 16.765415018))
            Line((17.755364512, 16.765415018), (13.351546118, 12.361596625))
            ThreePointArc((13.351546118, 12.361596625), (14.1, 10), (13.351546118, 7.638403375))
            Line((13.351546118, 7.638403375), (17.755364512, 3.234584982))
            ThreePointArc((17.755364512, 3.234584982), (17.928782713, 2.975046303), (17.989679087, 2.668899557))
            Line((17.989679087, 2.668899557), (17.989679087, 2.2))
            ThreePointArc((17.989679087, 2.2), (18.223993662, 1.634314575), (18.789679087, 1.4))
            Line((18.789679087, 1.4), (21.210320913, 1.4))
            ThreePointArc((21.210320913, 1.4), (21.776006338, 1.634314575), (22.010320913, 2.2))
            Line((22.010320913, 2.2), (22.010320913, 2.668899557))
            ThreePointArc((22.010320913, 2.668899557), (22.071217287, 2.975046303), (22.244635488, 3.234584982))
            Line((22.244635488, 3.234584982), (26.648453882, 7.638403375))
            ThreePointArc((26.648453882, 7.638403375), (25.9, 10), (26.648453882, 12.361596625))
            Line((26.648453882, 12.361596625), (22.244635488, 16.765415018))
            ThreePointArc((22.244635488, 16.765415018), (22.071217287, 17.024953697), (22.010320913, 17.331100443))
            Line((22.010320913, 17.331100443), (22.010320913, 17.8))
            ThreePointArc((22.010320913, 17.8), (21.776006338, 18.365685425), (21.210320913, 18.6))
        make_face(mode=Mode.SUBTRACT)
        with BuildLine():
            Line((8.201142588, 12.443783276), (8.552743846, 12.092182018))
            ThreePointArc((8.552743846, 12.092182018), (10, 12.543968548), (11.447256154, 12.092182018))
            Line((11.447256154, 12.092182018), (11.798857412, 12.443783276))
            ThreePointArc((11.798857412, 12.443783276), (12.443783276, 12.443783276), (12.443783276, 11.798857412))
            Line((12.443783276, 11.798857412), (12.092182018, 11.447256154))
            ThreePointArc((12.092182018, 11.447256154), (12.543968548, 10), (12.092182018, 8.552743846))
            Line((12.092182018, 8.552743846), (12.443783276, 8.201142588))
            ThreePointArc((12.443783276, 8.201142588), (12.443783276, 7.556216724), (11.798857412, 7.556216724))
            Line((11.798857412, 7.556216724), (11.447256154, 7.907817982))
            ThreePointArc((11.447256154, 7.907817982), (10, 7.456031452), (8.552743846, 7.907817982))
            Line((8.552743846, 7.907817982), (8.201142588, 7.556216724))
            ThreePointArc((8.201142588, 7.556216724), (7.556216724, 7.556216724), (7.556216724, 8.201142588))
            Line((7.556216724, 8.201142588), (7.907817982, 8.552743846))
            ThreePointArc((7.907817982, 8.552743846), (7.456031452, 10), (7.907817982, 11.447256154))
            Line((7.907817982, 11.447256154), (7.556216724, 11.798857412))
            ThreePointArc((7.556216724, 11.798857412), (7.556216724, 12.443783276), (8.201142588, 12.443783276))
        make_face(mode=Mode.SUBTRACT)
        with BuildLine():
            Line((27.907817982, 11.447256154), (27.556216724, 11.798857412))
            ThreePointArc((27.556216724, 11.798857412), (27.556216724, 12.443783276), (28.201142588, 12.443783276))
            Line((28.201142588, 12.443783276), (28.552743846, 12.092182018))
            ThreePointArc((28.552743846, 12.092182018), (30, 12.543968548), (31.447256154, 12.092182018))
            Line((31.447256154, 12.092182018), (31.798857412, 12.443783276))
            ThreePointArc((31.798857412, 12.443783276), (32.443783276, 12.443783276), (32.443783276, 11.798857412))
            Line((32.443783276, 11.798857412), (32.092182018, 11.447256154))
            ThreePointArc((32.092182018, 11.447256154), (32.543968548, 10), (32.092182018, 8.552743846))
            Line((32.092182018, 8.552743846), (32.443783276, 8.201142588))
            ThreePointArc((32.443783276, 8.201142588), (32.443783276, 7.556216724), (31.798857412, 7.556216724))
            Line((31.798857412, 7.556216724), (31.447256154, 7.907817982))
            ThreePointArc((31.447256154, 7.907817982), (30, 7.456031452), (28.552743846, 7.907817982))
            Line((28.552743846, 7.907817982), (28.201142588, 7.556216724))
            ThreePointArc((28.201142588, 7.556216724), (27.556216724, 7.556216724), (27.556216724, 8.201142588))
            Line((27.556216724, 8.201142588), (27.907817982, 8.552743846))
            ThreePointArc((27.907817982, 8.552743846), (27.456031452, 10), (27.907817982, 11.447256154))
        make_face(mode=Mode.SUBTRACT)
    extrude(amount=Y_KSEKLIK_EKSTR_ZYON2_DEPTH, both=True)

    # Radyus1
    radyus1_edges = [part.edges().sort_by_distance(p)[0] for p in [
        (6.648453882, 7.638403375, 0),
        (6.648453882, 12.361596625, 0),
        (33.351546118, 12.361596625, 0),
        (33.351546118, 7.638403375, 0),
        (13.351546118, 12.361596625, 0),
        (13.351546118, 7.638403375, 0),
        (26.648453882, 7.638403375, 0),
        (26.648453882, 12.361596625, 0),
    ]]
    fillet(radyus1_edges, radius=RADYUS1_R)


solid = part.part
